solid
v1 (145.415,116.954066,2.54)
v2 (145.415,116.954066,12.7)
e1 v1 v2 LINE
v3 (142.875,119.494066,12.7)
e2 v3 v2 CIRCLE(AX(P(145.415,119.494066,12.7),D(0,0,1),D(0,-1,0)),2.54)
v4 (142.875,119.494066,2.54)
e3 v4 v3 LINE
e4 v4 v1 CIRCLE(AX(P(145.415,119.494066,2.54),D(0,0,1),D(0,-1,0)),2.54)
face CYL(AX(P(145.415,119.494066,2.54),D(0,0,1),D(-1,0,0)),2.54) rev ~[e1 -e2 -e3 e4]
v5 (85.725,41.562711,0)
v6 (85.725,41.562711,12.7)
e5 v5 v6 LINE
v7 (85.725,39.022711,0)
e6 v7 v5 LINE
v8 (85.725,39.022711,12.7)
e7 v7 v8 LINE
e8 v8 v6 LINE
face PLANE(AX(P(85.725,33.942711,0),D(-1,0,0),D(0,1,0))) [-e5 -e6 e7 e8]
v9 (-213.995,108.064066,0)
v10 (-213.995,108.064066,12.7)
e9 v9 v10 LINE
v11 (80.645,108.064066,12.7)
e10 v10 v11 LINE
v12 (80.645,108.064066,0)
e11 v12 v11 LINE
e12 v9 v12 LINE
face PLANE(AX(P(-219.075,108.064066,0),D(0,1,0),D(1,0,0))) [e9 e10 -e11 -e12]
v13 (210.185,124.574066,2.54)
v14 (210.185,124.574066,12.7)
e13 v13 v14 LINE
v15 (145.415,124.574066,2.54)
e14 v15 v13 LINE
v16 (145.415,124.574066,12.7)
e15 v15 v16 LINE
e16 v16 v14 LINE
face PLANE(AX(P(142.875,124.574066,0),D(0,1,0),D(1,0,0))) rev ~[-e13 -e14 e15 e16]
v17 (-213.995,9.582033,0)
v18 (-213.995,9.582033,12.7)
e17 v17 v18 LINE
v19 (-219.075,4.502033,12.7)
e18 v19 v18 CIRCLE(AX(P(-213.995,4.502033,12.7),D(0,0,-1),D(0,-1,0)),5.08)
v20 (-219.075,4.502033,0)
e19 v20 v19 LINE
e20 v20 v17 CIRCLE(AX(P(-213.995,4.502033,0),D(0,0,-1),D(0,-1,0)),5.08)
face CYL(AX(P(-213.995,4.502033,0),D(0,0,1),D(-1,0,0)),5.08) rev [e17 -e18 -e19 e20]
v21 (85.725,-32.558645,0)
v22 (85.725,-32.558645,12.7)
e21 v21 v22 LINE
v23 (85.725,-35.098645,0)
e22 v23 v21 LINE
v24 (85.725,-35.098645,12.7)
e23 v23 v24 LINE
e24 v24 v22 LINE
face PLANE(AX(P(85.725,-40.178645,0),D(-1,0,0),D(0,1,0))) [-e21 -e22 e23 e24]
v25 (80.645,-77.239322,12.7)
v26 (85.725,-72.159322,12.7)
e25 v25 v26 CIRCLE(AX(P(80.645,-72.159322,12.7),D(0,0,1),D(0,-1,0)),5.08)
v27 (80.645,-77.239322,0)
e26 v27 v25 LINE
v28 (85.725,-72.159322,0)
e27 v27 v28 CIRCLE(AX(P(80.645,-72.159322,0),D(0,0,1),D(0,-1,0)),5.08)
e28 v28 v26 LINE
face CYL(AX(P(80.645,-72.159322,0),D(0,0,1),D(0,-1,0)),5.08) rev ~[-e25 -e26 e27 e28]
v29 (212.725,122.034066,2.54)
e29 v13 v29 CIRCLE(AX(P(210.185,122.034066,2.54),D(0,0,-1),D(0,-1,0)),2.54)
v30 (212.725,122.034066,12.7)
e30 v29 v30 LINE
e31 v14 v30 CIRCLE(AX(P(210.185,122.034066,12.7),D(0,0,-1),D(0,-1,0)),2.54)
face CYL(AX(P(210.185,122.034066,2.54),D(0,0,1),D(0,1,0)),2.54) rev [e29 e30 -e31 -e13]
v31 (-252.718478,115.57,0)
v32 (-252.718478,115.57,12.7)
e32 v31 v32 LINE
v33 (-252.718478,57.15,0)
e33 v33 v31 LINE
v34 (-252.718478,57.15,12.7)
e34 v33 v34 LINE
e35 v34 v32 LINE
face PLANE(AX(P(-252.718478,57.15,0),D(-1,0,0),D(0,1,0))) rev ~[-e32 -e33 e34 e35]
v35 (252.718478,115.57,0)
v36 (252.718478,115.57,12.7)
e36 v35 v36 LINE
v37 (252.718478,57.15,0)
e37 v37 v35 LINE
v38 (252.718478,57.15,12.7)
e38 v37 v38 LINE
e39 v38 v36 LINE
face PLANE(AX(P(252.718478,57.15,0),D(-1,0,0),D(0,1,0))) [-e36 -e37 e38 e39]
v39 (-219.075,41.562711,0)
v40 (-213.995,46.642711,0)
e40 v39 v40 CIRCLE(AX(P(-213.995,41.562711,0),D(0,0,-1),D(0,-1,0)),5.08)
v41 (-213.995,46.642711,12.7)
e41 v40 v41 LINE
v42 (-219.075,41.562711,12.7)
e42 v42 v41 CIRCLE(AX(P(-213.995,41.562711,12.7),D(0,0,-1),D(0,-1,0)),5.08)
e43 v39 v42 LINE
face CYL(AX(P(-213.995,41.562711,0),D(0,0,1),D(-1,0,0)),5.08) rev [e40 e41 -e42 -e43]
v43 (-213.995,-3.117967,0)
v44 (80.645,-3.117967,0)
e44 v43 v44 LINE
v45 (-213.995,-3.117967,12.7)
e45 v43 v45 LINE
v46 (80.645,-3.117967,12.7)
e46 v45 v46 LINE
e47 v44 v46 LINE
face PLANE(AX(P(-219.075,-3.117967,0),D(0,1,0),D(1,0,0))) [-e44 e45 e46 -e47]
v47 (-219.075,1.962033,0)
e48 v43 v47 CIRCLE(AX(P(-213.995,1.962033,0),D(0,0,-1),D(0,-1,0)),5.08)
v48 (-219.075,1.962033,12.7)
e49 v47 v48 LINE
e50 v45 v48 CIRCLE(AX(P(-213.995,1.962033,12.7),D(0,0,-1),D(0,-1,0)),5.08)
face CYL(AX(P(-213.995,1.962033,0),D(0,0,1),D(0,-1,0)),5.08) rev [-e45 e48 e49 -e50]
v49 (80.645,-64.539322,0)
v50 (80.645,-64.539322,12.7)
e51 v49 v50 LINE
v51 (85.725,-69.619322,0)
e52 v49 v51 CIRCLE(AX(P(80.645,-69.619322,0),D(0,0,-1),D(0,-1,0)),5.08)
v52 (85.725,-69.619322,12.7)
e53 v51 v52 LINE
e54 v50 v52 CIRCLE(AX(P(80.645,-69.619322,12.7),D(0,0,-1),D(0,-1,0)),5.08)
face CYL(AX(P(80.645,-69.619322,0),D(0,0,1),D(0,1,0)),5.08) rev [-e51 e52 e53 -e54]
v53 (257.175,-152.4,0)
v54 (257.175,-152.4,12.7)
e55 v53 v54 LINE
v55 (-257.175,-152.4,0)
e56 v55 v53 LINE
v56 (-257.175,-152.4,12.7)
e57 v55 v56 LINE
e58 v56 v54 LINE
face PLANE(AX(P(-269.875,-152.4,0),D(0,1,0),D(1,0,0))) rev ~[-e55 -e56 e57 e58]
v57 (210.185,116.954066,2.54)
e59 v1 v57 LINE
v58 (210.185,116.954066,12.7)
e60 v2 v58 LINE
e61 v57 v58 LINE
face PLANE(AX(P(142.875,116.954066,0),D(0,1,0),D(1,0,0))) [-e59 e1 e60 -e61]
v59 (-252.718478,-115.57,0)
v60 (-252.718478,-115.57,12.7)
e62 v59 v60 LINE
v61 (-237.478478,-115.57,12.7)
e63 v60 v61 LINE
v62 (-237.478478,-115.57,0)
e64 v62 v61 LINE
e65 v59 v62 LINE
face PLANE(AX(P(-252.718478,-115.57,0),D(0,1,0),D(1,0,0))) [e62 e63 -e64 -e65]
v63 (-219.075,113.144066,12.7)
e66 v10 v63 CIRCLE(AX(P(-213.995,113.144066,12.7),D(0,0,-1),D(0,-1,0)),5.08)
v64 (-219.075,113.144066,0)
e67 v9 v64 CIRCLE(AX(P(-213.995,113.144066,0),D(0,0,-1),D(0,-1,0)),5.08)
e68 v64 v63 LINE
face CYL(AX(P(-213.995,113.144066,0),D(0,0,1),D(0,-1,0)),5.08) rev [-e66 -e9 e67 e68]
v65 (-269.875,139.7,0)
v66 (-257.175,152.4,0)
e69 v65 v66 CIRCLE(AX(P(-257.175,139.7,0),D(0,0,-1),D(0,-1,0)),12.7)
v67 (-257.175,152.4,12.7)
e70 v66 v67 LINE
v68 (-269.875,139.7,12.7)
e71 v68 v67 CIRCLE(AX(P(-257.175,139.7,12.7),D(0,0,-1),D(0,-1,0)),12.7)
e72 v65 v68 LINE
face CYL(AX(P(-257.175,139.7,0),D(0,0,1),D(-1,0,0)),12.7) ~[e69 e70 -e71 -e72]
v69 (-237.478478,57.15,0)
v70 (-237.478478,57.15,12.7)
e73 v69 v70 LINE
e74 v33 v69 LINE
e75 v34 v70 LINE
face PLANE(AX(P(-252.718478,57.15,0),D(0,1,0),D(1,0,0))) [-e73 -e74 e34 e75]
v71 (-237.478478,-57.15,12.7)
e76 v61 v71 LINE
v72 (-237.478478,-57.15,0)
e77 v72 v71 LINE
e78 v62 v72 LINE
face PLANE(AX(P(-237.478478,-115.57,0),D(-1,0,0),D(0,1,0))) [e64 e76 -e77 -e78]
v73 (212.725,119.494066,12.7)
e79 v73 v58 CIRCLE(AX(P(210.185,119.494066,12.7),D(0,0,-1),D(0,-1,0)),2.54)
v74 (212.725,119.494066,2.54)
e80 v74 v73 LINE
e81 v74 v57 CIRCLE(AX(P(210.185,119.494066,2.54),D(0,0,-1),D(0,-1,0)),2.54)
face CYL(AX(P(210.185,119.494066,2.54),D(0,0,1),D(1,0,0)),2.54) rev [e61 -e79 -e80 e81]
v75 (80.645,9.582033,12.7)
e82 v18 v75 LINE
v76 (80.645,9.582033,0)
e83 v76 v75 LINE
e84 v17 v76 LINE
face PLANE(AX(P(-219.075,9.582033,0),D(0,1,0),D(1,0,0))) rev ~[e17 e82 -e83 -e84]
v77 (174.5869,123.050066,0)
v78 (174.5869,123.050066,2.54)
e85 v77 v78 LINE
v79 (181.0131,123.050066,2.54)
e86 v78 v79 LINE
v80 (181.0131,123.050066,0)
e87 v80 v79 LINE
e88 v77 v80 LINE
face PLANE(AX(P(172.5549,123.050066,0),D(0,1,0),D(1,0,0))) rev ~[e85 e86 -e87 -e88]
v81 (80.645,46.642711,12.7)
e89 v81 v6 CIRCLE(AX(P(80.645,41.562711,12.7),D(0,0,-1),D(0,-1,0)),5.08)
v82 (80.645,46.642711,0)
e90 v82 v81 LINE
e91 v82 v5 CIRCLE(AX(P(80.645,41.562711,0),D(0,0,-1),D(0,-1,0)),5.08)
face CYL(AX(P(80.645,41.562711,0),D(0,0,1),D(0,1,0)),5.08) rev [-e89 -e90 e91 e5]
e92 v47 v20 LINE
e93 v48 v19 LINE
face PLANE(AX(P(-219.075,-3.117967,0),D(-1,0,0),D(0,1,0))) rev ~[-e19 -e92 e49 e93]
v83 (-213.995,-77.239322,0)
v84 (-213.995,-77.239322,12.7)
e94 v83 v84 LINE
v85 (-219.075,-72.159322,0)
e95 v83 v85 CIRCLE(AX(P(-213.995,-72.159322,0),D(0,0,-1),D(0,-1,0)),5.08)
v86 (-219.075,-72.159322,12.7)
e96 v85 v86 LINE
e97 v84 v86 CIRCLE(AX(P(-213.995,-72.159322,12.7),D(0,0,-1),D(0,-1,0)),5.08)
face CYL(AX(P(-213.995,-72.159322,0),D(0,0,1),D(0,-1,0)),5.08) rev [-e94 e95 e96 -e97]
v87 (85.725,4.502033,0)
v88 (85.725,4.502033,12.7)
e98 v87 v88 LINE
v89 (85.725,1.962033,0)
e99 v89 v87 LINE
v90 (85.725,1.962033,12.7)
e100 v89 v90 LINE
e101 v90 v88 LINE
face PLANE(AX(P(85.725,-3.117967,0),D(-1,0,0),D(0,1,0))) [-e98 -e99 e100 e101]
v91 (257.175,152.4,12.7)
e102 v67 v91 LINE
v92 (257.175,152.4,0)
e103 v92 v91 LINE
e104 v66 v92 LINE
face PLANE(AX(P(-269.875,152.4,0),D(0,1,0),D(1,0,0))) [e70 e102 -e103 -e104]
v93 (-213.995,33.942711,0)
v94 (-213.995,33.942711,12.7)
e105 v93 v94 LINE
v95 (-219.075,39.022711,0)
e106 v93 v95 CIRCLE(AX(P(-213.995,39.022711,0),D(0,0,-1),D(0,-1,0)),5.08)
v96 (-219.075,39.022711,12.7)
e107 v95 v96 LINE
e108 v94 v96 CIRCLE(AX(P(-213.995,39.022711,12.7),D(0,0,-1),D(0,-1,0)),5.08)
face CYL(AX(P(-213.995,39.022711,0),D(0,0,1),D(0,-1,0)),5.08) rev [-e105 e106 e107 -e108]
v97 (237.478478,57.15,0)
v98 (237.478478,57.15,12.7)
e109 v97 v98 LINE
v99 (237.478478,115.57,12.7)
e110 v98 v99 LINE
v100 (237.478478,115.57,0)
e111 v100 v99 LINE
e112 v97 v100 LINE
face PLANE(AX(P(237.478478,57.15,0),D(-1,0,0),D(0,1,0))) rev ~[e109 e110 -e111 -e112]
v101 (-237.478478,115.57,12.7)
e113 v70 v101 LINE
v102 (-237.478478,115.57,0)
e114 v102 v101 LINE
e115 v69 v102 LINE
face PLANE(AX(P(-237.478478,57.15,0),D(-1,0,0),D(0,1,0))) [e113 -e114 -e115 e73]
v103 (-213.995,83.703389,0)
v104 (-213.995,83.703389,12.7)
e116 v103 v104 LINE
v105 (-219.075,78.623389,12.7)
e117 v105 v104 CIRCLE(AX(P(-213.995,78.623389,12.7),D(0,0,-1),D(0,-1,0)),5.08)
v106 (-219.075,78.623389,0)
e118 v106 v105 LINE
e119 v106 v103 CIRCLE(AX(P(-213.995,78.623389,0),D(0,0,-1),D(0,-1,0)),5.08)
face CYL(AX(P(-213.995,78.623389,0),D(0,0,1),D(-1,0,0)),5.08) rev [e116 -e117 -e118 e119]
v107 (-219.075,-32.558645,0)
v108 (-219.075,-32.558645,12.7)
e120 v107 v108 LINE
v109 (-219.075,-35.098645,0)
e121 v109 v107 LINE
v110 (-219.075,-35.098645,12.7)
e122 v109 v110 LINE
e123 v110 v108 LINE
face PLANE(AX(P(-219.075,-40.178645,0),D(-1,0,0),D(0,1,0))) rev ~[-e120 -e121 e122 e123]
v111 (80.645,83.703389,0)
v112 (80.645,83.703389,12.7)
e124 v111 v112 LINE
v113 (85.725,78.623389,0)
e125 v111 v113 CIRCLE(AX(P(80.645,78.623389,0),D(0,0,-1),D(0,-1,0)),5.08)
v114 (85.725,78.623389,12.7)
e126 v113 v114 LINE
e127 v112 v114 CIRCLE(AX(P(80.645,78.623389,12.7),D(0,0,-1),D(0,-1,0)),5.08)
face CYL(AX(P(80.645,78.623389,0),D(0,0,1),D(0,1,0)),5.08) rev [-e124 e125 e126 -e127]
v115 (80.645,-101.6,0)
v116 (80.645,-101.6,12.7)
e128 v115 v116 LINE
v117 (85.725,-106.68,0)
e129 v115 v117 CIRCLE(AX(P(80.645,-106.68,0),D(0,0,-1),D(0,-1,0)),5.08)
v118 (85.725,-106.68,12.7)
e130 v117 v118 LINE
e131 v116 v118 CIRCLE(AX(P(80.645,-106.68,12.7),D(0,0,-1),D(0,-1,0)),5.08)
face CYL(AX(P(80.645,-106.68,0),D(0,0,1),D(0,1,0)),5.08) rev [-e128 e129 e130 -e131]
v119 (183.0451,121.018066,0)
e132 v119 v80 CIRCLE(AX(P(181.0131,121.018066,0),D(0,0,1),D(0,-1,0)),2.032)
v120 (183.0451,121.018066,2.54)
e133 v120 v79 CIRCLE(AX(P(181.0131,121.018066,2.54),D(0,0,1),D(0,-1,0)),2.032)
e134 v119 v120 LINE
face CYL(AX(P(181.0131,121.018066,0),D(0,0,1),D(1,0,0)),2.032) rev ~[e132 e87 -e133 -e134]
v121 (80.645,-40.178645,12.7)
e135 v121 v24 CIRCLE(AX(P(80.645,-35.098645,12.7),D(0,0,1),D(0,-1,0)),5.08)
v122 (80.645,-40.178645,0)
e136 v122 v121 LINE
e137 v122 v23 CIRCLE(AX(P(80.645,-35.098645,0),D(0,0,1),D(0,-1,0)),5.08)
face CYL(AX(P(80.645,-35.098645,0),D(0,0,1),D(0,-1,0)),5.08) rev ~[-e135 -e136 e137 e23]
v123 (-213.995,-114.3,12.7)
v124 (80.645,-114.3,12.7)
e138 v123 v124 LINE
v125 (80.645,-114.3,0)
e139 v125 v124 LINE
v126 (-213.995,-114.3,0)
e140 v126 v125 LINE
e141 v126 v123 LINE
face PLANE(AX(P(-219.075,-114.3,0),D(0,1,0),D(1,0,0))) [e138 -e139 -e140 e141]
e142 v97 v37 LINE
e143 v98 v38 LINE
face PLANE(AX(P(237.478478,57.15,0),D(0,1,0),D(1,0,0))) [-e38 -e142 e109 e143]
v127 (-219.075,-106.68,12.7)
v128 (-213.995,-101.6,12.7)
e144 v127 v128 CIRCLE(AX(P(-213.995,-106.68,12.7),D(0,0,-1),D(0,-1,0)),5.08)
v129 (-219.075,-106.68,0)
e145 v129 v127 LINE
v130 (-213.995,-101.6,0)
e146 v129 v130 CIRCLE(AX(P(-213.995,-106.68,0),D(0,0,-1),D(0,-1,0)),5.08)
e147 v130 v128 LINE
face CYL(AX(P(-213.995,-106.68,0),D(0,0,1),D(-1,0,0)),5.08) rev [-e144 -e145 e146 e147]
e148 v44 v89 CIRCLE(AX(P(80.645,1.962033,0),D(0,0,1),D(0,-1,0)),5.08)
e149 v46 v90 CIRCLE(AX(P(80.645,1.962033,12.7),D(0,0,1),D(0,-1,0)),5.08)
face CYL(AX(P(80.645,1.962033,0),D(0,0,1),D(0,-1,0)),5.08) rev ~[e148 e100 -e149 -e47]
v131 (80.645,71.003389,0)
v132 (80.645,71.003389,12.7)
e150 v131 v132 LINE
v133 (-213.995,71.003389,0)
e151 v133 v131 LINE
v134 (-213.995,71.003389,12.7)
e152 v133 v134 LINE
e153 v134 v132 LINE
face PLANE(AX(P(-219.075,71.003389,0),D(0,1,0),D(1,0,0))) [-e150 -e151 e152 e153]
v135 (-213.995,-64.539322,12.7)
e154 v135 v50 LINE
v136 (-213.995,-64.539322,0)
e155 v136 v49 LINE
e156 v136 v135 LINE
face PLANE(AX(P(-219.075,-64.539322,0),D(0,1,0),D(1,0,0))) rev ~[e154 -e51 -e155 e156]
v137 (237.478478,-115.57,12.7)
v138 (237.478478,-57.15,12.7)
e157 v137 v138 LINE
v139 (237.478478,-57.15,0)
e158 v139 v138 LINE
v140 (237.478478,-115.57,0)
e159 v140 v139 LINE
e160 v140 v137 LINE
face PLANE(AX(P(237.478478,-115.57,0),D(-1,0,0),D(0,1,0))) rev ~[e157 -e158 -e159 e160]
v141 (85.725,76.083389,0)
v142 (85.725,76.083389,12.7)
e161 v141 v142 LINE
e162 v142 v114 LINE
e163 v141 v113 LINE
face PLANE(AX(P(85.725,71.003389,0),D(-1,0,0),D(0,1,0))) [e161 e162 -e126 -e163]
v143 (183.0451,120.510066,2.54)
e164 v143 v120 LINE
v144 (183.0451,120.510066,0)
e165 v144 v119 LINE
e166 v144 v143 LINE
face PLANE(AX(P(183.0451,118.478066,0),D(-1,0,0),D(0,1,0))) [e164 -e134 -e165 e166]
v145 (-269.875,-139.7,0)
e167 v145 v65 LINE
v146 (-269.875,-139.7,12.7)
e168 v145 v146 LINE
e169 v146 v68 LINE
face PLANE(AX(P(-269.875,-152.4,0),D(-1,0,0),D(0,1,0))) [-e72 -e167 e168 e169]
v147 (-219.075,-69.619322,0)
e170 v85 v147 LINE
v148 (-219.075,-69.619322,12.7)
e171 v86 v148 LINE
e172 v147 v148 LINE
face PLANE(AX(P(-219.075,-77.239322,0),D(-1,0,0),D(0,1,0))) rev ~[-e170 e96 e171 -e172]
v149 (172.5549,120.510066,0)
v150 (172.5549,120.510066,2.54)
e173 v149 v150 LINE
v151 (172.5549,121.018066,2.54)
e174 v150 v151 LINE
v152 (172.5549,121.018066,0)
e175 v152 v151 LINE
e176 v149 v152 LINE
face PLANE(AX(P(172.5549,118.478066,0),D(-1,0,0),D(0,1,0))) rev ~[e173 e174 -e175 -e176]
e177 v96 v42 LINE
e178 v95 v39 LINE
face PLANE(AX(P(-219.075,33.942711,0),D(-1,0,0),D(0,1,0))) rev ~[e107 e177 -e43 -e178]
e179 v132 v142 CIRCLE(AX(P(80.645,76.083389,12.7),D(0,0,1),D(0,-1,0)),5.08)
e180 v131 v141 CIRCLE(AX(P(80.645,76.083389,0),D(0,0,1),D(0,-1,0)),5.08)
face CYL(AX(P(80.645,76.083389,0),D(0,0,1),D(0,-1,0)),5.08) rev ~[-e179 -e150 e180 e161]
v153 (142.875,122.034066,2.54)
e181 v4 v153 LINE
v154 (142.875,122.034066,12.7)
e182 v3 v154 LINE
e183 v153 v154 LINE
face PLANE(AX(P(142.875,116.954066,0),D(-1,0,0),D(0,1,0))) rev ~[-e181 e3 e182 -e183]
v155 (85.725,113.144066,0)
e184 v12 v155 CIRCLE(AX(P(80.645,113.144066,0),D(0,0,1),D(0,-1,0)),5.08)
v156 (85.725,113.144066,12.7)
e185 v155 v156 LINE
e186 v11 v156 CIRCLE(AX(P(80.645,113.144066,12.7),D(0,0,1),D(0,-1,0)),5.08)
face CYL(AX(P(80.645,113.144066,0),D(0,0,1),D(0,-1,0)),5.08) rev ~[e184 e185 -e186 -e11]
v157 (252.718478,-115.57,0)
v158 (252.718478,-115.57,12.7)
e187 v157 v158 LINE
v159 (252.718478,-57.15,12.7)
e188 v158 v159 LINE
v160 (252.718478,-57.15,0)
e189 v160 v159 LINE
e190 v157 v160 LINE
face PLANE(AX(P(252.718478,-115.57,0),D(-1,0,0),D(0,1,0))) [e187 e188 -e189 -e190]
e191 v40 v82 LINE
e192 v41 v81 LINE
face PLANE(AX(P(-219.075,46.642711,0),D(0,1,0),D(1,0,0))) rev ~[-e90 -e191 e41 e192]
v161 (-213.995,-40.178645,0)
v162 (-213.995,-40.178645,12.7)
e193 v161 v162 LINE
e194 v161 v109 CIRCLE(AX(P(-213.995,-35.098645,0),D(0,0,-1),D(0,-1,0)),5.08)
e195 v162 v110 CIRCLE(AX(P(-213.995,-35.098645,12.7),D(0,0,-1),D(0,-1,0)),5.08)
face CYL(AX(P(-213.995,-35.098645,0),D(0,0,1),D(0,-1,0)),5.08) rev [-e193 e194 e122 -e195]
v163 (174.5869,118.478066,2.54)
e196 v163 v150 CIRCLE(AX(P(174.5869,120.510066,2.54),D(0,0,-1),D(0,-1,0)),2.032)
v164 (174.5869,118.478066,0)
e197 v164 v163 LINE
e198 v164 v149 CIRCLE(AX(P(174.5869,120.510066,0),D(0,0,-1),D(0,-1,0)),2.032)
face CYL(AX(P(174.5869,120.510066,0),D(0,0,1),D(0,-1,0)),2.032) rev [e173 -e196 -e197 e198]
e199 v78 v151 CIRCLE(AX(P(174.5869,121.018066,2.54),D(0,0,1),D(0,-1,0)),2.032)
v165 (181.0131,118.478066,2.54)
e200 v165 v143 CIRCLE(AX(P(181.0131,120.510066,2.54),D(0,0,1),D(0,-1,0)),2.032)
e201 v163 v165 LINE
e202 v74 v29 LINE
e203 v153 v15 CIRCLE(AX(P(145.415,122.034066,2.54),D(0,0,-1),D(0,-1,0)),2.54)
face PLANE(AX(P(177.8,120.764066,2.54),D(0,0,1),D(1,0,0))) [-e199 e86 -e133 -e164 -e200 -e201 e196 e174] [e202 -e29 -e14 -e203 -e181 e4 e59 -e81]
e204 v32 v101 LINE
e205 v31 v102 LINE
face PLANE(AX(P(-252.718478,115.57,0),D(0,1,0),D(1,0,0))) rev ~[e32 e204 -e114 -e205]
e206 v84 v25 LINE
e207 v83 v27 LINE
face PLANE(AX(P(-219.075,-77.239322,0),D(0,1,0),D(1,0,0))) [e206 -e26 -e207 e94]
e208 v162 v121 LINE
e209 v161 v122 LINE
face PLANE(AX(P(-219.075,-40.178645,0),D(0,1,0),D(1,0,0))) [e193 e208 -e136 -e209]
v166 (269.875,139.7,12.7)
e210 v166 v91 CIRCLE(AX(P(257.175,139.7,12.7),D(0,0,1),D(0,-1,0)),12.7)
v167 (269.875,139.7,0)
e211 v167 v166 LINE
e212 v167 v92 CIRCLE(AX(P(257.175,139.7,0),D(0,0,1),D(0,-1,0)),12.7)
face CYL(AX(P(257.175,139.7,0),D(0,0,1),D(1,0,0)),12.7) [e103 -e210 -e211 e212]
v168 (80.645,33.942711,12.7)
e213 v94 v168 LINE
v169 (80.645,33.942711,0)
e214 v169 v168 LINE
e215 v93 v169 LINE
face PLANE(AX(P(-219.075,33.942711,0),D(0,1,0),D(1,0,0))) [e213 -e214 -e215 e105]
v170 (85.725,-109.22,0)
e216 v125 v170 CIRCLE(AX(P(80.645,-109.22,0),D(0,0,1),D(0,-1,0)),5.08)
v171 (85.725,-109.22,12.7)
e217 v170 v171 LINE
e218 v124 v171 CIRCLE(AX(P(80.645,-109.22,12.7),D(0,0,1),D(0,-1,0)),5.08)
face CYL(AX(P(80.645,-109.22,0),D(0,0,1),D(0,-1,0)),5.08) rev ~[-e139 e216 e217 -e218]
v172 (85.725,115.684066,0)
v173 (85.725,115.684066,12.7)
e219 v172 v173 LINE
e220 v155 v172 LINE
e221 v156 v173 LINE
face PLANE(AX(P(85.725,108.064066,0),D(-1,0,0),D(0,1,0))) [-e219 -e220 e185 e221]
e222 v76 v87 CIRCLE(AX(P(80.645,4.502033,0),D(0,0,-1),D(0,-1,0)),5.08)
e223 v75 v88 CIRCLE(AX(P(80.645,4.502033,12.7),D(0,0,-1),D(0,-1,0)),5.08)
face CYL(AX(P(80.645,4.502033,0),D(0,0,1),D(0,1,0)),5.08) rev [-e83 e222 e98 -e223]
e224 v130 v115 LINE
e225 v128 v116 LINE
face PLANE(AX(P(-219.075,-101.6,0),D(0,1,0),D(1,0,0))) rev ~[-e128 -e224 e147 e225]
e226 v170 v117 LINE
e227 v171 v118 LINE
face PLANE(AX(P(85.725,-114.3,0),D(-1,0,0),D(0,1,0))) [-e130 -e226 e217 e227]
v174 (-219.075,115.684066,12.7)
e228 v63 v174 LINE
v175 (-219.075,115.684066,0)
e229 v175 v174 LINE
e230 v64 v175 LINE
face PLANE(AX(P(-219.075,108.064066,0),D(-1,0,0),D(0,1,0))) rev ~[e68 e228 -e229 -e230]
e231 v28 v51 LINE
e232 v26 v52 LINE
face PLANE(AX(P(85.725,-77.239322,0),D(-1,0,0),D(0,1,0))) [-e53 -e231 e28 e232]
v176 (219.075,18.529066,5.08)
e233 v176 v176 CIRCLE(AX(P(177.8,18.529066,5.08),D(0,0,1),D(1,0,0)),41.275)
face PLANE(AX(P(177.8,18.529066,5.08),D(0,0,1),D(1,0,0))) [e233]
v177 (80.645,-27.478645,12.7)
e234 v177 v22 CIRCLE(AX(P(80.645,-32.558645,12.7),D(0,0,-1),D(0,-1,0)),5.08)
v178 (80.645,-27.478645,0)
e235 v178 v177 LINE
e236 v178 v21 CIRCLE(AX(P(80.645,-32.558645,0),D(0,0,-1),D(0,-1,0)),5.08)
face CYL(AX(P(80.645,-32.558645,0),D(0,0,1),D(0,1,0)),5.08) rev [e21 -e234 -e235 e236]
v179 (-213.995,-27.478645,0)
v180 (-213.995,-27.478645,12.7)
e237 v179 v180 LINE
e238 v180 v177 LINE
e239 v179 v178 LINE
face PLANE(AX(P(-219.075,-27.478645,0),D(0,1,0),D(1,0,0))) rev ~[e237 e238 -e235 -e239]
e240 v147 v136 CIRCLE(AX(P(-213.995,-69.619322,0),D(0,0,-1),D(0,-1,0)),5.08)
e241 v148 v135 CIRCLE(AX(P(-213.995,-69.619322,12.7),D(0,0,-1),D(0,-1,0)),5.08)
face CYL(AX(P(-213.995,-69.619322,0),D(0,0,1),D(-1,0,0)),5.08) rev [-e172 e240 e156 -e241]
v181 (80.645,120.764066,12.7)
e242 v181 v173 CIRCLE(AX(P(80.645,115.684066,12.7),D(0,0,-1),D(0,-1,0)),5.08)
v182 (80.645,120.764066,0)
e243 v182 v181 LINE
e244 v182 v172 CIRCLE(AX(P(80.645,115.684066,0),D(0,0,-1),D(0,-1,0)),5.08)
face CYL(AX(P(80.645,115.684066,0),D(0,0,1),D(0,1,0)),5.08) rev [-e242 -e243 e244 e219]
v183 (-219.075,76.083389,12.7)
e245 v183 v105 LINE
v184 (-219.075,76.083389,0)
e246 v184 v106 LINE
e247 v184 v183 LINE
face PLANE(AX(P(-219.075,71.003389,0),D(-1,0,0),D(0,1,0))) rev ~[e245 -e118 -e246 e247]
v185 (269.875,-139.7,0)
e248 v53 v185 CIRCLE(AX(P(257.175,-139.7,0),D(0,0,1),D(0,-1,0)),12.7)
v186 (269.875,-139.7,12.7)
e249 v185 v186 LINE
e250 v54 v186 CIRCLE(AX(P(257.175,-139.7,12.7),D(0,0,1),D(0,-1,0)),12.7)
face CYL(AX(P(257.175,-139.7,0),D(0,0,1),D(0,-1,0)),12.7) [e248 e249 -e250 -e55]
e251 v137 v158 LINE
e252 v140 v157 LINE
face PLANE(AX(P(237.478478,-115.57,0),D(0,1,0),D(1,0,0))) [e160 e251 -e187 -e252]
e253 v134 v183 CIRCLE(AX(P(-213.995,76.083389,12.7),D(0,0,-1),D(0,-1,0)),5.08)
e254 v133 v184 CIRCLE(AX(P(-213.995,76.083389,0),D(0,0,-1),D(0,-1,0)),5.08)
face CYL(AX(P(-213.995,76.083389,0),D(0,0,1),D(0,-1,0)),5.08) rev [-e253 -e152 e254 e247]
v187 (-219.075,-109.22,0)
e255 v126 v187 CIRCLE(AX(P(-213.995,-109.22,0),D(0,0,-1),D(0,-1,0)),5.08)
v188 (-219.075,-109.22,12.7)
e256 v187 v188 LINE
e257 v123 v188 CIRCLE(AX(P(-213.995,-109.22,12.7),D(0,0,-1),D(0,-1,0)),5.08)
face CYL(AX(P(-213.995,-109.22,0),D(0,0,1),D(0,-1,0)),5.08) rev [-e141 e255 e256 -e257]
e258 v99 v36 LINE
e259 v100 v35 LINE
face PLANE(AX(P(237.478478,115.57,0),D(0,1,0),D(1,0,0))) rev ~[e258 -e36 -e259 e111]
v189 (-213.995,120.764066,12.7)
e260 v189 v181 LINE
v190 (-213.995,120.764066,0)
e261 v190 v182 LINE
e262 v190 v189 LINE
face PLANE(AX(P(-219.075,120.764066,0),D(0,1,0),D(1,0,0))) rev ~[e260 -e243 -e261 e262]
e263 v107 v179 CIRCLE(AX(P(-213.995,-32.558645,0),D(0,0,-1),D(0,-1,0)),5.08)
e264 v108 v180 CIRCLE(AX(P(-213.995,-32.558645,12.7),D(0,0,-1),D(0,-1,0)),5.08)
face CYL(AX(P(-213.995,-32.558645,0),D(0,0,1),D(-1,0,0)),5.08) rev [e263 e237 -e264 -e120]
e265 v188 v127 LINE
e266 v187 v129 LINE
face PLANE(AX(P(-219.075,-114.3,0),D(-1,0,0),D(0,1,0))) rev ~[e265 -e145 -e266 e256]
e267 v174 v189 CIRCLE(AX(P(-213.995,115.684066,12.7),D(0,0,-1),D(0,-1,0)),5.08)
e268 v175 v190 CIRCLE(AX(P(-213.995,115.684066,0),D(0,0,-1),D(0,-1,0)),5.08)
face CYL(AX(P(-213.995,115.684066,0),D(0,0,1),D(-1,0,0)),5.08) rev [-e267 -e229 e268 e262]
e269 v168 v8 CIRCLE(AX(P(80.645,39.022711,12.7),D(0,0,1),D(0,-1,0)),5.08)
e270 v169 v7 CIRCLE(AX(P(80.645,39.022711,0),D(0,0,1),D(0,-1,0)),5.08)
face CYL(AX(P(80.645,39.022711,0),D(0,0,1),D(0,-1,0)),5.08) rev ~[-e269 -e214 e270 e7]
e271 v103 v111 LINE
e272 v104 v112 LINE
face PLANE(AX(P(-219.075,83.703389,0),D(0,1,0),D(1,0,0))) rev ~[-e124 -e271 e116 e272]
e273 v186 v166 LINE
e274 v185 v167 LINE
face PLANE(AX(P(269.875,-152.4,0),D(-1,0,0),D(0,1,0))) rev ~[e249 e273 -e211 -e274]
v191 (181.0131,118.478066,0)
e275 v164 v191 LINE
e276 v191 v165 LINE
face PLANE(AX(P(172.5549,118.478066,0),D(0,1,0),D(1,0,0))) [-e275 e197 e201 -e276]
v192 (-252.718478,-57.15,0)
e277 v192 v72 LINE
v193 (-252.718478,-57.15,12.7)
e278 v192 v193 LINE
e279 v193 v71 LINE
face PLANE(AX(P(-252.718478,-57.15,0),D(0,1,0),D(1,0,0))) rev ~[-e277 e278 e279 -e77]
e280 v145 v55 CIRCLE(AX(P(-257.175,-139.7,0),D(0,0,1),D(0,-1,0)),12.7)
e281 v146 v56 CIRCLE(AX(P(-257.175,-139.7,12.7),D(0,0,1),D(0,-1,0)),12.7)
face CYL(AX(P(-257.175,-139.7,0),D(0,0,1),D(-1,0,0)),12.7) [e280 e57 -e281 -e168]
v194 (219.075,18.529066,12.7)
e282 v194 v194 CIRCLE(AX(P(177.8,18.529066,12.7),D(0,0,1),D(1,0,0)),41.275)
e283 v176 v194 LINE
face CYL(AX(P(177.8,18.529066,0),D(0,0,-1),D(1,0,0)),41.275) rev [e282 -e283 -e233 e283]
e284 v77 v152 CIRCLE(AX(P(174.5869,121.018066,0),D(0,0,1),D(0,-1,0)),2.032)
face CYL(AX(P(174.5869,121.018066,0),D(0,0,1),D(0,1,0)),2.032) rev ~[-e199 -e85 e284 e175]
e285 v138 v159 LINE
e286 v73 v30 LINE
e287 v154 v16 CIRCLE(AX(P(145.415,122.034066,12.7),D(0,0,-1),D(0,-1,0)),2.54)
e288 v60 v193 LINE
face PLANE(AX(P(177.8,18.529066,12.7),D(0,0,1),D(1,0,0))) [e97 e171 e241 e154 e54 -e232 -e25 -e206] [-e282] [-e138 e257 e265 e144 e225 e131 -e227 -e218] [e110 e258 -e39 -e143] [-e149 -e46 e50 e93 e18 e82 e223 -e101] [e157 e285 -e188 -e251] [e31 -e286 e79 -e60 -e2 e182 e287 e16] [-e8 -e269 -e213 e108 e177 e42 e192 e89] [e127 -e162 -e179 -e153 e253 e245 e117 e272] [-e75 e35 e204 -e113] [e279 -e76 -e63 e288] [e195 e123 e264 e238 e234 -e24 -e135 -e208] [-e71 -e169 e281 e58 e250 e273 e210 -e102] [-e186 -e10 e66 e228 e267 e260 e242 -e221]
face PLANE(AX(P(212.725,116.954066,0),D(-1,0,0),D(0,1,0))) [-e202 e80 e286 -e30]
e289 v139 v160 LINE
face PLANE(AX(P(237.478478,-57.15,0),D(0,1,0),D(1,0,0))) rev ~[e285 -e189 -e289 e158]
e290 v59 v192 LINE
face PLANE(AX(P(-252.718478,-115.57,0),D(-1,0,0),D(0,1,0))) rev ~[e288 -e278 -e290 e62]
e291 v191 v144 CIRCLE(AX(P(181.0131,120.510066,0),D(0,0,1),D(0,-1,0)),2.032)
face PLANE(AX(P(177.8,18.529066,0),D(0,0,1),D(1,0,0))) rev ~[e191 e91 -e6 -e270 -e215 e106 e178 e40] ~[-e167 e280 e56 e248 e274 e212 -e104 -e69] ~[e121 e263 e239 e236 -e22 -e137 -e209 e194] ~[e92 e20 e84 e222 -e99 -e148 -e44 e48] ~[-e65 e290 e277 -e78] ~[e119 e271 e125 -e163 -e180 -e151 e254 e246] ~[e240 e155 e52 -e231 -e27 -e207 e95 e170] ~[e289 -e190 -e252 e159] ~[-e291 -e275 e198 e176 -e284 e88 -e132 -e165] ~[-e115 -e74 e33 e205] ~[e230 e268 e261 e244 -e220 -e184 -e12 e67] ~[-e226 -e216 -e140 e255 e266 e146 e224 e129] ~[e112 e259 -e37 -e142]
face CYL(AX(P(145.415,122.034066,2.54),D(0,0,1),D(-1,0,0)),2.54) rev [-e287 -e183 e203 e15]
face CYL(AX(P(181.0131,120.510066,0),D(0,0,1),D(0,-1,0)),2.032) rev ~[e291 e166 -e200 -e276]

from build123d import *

# Parameters (mm, degrees)
F0_W     = 539.75
F0_H     = 304.8
F0_W_2   = 15.24
F0_H_2   = 58.42
F0_W_3   = 304.8
F0_H_3   = 12.7
F0_R     = 47.625
F0_W_4   = 69.85
F0_H_4   = 7.62
F1_DEPTH = 12.7
F0_W_5   = 10.4902
F0_H_5   = 4.572
F2_DEPTH = 2.54
F0_R_2   = 41.275
F3_DEPTH = 12.7
F4_DEPTH = 5.08
F5_R     = 12.7
F6_R     = 5.08
F7_R     = 2.54
F8_R     = 2.032


with BuildPart() as f1:
    # F0 (on Top) → F1 (new body)
    with BuildSketch(Plane.XY):
        Rectangle(F0_W, F0_H)
        with Locations((-245.098478, -86.36)):
            Rectangle(F0_W_2, F0_H_2, mode=Mode.SUBTRACT)
        with Locations((-66.675, -107.95)):
            Rectangle(F0_W_3, F0_H_3, mode=Mode.SUBTRACT)
        with Locations((-66.675, -70.889322)):
            Rectangle(F0_W_3, F0_H_3, mode=Mode.SUBTRACT)
        with Locations((-66.675, -33.828645)):
            Rectangle(F0_W_3, F0_H_3, mode=Mode.SUBTRACT)
        with Locations((245.098478, -86.36)):
            Rectangle(F0_W_2, F0_H_2, mode=Mode.SUBTRACT)
        with Locations((-66.675, 3.232033)):
            Rectangle(F0_W_3, F0_H_3, mode=Mode.SUBTRACT)
        with Locations((-66.675, 40.292711)):
            Rectangle(F0_W_3, F0_H_3, mode=Mode.SUBTRACT)
        with Locations((-245.098478, 86.36)):
            Rectangle(F0_W_2, F0_H_2, mode=Mode.SUBTRACT)
        with Locations((-66.675, 77.353389)):
            Rectangle(F0_W_3, F0_H_3, mode=Mode.SUBTRACT)
        with Locations((-66.675, 114.414066)):
            Rectangle(F0_W_3, F0_H_3, mode=Mode.SUBTRACT)
        with Locations((177.8, 18.529066)):
            Circle(F0_R, mode=Mode.SUBTRACT)
        with Locations((245.098478, 86.36)):
            Rectangle(F0_W_2, F0_H_2, mode=Mode.SUBTRACT)
        with Locations((177.8, 120.764066)):
            Rectangle(F0_W_4, F0_H_4, mode=Mode.SUBTRACT)
    extrude(amount=F1_DEPTH)

    # F0 (on Top) → F2 (join)
    with BuildSketch(Plane.XY):
        with Locations((177.8, 120.764066)):
            Rectangle(F0_W_4, F0_H_4)
        with Locations((177.8, 120.764066)):
            Rectangle(F0_W_5, F0_H_5, mode=Mode.SUBTRACT)
    extrude(amount=F2_DEPTH)

    # F0 (on Top) → F3 (join)
    with BuildSketch(Plane.XY):
        with Locations((177.8, 18.529066)):
            Circle(F0_R)
        with Locations((177.8, 18.529066)):
            Circle(F0_R_2, mode=Mode.SUBTRACT)
    extrude(amount=F3_DEPTH)

    # F0 (on Top) → F4 (join)
    with BuildSketch(Plane.XY):
        with Locations((177.8, 18.529066)):
            Circle(F0_R_2)
    extrude(amount=F4_DEPTH)

    # F5
    f5_edges = [f1.edges().sort_by_distance(p)[0] for p in [
        (-269.875, 152.4, 6.35),
        (269.875, 152.4, 6.35),
        (269.875, -152.4, 6.35),
        (-269.875, -152.4, 6.35),
    ]]
    fillet(f5_edges, radius=F5_R)

    # F6
    f6_edges = [f1.edges().sort_by_distance(p)[0] for p in [
        (-219.075, 120.764066, 6.35),
        (85.725, 120.764066, 6.35),
        (-219.075, 33.942711, 6.35),
        (-219.075, -3.117967, 6.35),
        (-219.075, -40.178645, 6.35),
        (-219.075, -77.239322, 6.35),
        (-219.075, -114.3, 6.35),
        (-219.075, 108.064066, 6.35),
        (-219.075, 71.003389, 6.35),
        (85.725, 108.064066, 6.35),
        (85.725, 71.003389, 6.35),
        (85.725, 33.942711, 6.35),
        (85.725, -3.117967, 6.35),
        (85.725, -40.178645, 6.35),
        (85.725, -77.239322, 6.35),
        (85.725, -114.3, 6.35),
        (85.725, -101.6, 6.35),
        (85.725, -64.539322, 6.35),
        (85.725, -27.478645, 6.35),
        (85.725, 9.582033, 6.35),
        (85.725, 46.642711, 6.35),
        (85.725, 83.703389, 6.35),
        (-219.075, -101.6, 6.35),
        (-219.075, -64.539322, 6.35),
        (-219.075, -27.478645, 6.35),
        (-219.075, 9.582033, 6.35),
        (-219.075, 46.642711, 6.35),
        (-219.075, 83.703389, 6.35),
    ]]
    fillet(f6_edges, radius=F6_R)

    # F7
    f7_edges = [f1.edges().sort_by_distance(p)[0] for p in [
        (142.875, 124.574066, 7.62),
        (212.725, 124.574066, 7.62),
        (142.875, 116.954066, 7.62),
        (212.725, 116.954066, 7.62),
    ]]
    fillet(f7_edges, radius=F7_R)

    # F8
    f8_edges = [f1.edges().sort_by_distance(p)[0] for p in [
        (172.5549, 123.050066, 1.27),
        (183.0451, 123.050066, 1.27),
        (183.0451, 118.478066, 1.27),
        (172.5549, 118.478066, 1.27),
    ]]
    fillet(f8_edges, radius=F8_R)


solid = f1.part
